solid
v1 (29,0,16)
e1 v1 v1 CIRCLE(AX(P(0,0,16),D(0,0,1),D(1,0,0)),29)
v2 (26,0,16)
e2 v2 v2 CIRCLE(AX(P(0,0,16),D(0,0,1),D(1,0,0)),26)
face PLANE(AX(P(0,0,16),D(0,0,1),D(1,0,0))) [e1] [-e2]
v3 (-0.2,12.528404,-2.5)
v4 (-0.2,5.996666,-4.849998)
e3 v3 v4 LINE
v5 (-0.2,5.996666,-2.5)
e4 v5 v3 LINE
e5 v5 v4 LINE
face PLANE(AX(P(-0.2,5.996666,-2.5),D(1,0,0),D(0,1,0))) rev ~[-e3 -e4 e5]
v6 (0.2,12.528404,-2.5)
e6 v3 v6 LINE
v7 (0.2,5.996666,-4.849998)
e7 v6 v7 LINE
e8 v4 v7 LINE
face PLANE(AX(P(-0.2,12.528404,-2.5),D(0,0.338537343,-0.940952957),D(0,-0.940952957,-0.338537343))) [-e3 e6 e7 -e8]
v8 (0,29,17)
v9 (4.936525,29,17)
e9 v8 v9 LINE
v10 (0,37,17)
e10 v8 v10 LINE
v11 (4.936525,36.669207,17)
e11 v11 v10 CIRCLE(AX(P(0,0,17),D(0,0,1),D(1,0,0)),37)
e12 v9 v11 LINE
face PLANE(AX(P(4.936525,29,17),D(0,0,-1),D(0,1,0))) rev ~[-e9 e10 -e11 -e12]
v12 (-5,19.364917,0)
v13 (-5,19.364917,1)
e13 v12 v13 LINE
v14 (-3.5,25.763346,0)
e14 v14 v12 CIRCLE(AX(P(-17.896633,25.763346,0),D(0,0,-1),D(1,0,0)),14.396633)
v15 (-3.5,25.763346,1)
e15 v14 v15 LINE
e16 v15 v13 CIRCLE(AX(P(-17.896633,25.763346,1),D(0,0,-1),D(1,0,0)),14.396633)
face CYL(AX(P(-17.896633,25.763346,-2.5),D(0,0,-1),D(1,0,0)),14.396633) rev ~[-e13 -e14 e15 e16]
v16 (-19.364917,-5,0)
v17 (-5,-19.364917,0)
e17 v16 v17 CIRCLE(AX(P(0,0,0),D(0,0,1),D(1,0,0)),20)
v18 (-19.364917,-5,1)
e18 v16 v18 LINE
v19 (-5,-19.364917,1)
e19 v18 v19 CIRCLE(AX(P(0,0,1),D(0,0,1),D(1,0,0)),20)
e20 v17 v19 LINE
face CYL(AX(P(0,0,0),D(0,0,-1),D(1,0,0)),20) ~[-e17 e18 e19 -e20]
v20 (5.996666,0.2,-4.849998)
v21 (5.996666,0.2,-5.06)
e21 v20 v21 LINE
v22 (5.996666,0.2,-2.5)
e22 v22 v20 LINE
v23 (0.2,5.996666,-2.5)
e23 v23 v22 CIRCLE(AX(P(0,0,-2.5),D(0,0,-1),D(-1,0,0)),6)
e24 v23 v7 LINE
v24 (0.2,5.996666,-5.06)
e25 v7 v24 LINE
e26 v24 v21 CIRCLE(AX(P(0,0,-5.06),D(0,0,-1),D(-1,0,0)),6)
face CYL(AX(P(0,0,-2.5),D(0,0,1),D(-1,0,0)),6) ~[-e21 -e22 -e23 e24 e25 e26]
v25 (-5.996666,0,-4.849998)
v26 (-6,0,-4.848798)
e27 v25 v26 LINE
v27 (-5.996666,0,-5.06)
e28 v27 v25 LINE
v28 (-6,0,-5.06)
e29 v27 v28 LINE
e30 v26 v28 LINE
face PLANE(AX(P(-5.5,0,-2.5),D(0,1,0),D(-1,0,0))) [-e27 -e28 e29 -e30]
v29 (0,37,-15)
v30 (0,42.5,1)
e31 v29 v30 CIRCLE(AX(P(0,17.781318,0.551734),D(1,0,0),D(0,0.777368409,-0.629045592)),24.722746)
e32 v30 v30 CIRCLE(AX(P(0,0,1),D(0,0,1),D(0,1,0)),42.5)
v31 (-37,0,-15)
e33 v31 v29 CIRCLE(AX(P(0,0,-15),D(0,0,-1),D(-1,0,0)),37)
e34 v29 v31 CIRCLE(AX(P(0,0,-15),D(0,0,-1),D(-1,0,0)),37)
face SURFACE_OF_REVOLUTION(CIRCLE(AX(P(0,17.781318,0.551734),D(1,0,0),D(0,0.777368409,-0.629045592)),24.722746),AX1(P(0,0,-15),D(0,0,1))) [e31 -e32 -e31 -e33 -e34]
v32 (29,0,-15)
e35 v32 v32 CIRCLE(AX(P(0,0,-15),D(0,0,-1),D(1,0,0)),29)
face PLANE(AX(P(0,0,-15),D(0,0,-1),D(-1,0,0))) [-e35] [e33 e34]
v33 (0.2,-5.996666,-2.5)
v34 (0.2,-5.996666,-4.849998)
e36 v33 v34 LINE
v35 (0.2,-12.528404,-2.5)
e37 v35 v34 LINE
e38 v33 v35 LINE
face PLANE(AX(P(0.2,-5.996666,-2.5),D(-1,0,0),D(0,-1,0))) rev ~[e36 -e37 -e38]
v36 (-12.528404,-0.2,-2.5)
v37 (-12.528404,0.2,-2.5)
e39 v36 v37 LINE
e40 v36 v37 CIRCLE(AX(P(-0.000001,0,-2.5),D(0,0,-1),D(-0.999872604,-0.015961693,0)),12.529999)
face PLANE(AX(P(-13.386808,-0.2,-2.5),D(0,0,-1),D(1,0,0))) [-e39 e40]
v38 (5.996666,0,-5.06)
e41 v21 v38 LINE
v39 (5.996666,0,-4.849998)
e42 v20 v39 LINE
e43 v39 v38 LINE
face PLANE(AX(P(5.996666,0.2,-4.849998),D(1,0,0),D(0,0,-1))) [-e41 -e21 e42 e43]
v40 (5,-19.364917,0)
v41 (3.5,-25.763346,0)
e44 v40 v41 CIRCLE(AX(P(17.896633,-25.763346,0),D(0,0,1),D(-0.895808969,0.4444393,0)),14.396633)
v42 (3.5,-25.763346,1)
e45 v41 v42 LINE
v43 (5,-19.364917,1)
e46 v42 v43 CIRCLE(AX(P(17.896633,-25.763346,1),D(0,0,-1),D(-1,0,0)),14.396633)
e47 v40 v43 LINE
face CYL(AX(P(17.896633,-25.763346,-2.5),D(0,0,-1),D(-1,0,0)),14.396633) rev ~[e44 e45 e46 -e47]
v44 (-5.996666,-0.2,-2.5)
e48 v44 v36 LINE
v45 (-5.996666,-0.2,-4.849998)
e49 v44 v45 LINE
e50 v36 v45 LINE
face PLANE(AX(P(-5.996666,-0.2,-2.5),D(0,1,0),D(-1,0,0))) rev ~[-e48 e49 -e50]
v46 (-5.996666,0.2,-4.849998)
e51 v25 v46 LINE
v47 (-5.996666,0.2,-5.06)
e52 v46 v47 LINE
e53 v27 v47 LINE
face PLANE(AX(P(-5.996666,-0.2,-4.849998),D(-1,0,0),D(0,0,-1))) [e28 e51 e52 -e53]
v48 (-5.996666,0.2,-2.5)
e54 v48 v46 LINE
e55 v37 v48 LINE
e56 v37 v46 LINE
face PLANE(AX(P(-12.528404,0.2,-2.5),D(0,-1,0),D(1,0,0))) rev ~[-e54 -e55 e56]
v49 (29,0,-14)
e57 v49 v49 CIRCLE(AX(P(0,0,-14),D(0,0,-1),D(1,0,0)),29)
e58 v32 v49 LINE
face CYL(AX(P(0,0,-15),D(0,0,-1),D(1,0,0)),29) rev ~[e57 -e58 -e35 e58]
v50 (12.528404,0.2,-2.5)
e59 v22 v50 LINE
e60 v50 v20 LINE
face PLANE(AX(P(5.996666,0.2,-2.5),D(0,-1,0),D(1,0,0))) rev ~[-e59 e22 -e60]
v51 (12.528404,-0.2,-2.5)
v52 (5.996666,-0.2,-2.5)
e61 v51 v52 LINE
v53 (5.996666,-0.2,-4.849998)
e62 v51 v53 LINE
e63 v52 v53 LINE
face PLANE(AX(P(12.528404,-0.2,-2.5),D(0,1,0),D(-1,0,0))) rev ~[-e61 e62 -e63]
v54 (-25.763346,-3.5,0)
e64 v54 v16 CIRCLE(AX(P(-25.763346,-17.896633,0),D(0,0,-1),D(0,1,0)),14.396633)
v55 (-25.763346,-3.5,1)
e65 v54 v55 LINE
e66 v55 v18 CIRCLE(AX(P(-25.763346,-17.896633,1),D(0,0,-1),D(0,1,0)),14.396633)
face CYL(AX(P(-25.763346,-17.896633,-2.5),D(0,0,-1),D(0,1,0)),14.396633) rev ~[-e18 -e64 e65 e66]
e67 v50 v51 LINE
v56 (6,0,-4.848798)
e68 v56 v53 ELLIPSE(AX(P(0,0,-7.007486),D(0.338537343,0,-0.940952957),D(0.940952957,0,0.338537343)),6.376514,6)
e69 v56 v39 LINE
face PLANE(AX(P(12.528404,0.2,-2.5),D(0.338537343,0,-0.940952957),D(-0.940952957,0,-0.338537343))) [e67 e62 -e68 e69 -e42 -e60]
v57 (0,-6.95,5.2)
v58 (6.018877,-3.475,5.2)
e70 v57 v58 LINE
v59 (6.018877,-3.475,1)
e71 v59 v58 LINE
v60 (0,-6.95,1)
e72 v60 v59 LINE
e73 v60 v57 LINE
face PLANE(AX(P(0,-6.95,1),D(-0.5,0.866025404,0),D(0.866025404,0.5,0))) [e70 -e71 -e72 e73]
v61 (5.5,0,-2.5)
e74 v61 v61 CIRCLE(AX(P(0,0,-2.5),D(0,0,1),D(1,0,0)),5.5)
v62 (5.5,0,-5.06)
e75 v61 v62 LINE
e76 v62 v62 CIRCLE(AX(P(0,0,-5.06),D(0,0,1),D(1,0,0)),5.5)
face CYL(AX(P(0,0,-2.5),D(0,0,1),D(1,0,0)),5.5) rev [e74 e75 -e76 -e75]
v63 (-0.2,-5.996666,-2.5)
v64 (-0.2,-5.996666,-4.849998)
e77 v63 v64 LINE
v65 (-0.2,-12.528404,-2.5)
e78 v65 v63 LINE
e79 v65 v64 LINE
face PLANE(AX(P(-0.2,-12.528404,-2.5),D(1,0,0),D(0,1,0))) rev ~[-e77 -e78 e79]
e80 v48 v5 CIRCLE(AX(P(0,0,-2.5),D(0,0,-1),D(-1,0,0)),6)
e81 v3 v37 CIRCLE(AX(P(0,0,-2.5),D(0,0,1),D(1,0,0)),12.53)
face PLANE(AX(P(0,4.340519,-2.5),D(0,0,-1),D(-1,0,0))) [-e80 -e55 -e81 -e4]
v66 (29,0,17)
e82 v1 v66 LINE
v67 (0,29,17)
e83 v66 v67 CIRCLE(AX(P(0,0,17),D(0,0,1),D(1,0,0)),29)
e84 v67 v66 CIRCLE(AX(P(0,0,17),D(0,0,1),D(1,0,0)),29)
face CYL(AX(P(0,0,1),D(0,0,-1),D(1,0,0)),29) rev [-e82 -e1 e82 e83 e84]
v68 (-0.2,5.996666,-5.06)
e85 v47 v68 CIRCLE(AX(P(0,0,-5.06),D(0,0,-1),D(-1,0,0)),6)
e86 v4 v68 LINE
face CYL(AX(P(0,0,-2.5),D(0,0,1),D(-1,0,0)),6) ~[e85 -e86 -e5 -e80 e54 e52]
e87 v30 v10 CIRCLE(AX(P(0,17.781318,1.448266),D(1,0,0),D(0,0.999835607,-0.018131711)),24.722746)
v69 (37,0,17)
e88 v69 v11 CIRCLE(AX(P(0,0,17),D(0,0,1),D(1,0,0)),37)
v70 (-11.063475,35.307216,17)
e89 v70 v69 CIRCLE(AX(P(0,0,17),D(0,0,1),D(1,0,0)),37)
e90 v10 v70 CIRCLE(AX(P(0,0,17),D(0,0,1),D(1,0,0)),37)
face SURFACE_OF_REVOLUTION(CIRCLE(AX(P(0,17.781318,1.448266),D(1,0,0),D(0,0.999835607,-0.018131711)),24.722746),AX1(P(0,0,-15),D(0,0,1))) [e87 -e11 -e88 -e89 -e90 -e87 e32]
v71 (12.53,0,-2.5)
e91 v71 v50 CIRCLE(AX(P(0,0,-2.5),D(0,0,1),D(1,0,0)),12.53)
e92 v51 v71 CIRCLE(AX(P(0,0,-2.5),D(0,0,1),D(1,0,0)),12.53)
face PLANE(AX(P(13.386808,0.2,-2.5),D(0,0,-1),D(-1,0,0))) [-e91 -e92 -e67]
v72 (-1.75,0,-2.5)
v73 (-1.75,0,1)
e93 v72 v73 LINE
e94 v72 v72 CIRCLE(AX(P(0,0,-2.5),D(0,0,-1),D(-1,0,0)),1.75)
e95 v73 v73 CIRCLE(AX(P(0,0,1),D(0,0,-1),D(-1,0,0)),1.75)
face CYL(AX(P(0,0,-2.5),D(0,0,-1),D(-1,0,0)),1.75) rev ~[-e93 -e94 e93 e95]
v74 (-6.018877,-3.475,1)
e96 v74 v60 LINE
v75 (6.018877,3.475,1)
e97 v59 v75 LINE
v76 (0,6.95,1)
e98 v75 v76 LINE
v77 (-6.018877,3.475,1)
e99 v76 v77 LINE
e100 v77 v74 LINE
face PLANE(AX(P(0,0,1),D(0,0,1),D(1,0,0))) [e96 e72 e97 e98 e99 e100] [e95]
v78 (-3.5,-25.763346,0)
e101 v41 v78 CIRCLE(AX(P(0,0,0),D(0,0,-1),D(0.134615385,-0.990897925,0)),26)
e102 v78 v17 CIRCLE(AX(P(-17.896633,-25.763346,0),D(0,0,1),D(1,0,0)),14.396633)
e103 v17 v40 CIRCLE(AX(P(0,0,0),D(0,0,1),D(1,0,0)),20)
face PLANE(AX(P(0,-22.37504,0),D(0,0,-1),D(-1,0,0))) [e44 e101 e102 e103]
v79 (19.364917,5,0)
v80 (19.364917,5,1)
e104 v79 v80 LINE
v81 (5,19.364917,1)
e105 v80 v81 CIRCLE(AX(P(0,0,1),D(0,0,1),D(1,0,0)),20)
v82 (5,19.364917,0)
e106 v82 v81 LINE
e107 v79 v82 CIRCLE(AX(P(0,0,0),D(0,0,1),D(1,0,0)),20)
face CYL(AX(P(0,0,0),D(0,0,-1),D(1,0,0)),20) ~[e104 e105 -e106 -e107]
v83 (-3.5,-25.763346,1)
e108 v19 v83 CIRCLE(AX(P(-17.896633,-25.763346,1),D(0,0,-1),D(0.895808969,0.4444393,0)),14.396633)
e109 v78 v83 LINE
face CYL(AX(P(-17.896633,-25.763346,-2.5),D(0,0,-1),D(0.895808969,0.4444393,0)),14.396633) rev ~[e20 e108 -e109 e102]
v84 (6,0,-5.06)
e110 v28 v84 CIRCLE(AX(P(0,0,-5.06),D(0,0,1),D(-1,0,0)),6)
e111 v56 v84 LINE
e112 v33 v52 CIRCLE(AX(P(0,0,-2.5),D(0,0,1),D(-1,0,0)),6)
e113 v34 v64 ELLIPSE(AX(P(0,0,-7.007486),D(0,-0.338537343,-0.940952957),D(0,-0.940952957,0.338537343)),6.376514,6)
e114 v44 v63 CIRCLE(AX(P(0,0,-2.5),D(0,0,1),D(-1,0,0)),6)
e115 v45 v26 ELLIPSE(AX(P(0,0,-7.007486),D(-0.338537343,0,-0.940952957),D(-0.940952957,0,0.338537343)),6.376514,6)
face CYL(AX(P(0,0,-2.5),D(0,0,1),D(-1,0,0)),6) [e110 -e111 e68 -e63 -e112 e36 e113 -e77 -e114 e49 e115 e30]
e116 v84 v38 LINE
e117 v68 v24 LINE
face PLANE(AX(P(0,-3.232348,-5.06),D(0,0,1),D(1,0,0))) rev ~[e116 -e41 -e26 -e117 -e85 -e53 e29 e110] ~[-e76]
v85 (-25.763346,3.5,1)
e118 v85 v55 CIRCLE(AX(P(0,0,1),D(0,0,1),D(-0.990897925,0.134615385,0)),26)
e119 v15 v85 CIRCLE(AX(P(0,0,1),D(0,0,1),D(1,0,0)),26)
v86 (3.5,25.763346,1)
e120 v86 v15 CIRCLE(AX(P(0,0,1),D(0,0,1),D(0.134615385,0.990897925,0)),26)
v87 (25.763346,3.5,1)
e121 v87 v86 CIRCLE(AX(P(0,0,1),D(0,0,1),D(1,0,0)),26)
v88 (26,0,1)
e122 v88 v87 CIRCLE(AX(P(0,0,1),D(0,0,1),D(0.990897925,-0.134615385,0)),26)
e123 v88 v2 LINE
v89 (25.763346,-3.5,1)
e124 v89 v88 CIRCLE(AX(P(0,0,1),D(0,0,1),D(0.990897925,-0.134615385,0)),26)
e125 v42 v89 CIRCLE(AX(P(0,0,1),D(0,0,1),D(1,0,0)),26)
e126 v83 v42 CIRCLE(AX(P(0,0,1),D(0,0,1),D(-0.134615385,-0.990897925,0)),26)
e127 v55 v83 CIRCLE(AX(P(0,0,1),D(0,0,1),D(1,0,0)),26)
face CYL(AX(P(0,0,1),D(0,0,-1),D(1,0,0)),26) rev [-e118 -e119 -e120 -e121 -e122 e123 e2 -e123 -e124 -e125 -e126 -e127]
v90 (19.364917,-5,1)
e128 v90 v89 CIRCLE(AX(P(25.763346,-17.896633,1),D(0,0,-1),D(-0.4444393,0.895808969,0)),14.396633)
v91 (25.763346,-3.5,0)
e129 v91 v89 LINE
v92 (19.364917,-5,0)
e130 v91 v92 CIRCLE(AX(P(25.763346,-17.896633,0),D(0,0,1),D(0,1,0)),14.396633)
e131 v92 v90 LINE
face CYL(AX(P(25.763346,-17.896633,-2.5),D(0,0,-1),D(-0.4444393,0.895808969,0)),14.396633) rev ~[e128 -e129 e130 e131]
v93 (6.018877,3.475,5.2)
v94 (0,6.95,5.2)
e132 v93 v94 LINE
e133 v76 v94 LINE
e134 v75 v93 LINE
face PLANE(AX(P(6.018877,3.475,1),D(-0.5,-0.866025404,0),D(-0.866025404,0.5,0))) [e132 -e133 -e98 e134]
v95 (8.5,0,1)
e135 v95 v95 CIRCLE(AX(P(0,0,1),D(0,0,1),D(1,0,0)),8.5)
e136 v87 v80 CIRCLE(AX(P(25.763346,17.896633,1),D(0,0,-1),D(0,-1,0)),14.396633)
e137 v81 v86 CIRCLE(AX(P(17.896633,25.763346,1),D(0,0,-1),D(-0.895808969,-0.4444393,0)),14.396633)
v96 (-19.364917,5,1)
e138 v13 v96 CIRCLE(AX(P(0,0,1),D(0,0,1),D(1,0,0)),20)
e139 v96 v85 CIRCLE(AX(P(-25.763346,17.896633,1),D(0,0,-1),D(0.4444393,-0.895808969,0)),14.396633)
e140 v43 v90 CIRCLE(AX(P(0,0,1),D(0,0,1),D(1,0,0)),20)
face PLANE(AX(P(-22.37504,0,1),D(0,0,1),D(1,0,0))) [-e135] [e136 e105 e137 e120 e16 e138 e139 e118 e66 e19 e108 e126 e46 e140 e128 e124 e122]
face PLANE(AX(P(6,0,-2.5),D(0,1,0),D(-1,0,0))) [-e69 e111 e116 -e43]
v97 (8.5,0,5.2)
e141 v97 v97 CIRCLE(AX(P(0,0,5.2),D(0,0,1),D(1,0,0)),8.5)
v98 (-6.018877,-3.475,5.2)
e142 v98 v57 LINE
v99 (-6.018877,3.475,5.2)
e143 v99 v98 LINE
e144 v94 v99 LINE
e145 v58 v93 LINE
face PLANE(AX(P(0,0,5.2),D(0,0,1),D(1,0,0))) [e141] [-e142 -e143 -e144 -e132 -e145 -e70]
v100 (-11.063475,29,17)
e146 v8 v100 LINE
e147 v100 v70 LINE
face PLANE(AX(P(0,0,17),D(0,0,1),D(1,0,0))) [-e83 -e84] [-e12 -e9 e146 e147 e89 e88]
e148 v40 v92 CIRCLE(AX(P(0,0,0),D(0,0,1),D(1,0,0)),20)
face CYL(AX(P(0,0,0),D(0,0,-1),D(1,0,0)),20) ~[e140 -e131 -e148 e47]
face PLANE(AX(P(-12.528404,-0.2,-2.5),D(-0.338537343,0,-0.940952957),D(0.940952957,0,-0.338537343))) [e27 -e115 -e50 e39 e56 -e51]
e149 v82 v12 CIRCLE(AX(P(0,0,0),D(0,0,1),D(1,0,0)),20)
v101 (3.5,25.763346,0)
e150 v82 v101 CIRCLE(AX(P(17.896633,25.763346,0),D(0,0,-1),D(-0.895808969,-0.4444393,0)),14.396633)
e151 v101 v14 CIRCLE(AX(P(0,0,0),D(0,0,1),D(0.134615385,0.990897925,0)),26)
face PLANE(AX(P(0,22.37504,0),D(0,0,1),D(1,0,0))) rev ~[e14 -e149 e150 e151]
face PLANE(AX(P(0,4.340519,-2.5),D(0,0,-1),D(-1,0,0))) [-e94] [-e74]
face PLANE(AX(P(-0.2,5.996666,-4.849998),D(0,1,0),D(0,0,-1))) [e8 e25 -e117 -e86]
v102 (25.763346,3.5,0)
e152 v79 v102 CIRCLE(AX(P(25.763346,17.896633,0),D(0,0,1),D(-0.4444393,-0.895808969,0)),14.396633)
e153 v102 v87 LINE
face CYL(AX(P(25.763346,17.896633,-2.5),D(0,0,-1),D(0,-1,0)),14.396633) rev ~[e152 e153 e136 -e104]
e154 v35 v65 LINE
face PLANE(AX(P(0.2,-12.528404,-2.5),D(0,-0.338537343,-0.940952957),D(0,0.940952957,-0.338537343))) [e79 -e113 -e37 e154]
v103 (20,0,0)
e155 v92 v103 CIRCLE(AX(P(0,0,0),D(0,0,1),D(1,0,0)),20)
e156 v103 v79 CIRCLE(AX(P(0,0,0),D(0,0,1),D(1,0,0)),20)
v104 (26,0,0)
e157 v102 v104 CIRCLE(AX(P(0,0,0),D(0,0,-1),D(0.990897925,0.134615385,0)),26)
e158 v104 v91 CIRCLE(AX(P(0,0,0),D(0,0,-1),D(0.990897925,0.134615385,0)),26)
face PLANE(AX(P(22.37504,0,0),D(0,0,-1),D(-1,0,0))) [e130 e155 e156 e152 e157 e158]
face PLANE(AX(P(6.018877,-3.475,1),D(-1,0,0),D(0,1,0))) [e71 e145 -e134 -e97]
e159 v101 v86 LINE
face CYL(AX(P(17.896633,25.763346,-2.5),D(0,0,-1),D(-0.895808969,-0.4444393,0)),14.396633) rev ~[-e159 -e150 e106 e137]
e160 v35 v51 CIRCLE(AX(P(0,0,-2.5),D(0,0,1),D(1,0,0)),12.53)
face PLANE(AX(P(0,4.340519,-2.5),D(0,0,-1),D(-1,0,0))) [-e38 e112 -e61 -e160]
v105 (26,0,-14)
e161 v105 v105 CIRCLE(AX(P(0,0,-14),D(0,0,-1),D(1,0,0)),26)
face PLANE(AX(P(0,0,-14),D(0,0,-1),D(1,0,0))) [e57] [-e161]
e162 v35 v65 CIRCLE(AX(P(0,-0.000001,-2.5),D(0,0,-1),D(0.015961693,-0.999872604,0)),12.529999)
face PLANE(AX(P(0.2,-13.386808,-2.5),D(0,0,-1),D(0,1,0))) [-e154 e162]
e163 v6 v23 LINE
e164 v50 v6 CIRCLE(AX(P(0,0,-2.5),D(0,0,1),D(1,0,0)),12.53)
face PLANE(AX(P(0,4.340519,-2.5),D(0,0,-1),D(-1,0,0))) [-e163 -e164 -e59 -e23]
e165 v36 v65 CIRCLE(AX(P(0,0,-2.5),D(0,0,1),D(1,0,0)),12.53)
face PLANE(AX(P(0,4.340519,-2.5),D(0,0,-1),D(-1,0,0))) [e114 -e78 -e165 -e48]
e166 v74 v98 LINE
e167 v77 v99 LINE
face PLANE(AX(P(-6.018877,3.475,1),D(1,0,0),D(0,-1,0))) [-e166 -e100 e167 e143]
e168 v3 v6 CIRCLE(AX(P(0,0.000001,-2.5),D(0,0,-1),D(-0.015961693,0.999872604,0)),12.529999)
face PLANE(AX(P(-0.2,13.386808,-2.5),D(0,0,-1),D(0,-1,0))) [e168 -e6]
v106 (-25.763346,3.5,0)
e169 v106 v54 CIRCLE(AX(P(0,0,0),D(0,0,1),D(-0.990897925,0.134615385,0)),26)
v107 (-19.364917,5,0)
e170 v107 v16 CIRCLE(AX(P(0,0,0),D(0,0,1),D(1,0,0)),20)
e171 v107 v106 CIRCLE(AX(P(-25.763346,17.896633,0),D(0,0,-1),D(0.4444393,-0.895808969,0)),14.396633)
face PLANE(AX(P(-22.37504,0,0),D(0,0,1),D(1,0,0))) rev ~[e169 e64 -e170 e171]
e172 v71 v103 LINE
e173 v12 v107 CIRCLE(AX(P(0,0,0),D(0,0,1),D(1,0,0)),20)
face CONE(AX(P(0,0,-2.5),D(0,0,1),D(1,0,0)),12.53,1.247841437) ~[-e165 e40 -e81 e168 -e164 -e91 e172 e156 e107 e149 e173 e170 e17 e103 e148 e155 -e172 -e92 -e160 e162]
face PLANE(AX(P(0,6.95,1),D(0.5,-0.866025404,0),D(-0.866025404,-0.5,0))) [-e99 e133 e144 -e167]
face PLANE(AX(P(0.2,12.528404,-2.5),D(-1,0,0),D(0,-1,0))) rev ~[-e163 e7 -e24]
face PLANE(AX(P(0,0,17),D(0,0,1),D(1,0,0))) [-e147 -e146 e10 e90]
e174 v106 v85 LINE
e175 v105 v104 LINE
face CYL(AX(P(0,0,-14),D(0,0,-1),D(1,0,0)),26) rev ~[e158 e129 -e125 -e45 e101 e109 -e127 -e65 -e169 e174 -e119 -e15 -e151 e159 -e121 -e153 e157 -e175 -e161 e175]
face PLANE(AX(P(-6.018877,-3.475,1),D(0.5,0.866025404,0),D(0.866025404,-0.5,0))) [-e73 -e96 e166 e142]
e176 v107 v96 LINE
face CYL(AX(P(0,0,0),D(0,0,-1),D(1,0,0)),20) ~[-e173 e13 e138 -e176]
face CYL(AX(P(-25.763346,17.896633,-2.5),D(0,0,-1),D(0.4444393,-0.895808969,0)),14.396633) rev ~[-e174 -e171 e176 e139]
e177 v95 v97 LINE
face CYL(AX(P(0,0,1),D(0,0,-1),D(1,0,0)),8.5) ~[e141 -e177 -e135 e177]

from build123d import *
from build123d.topology import SkipClean

# Parameters (mm, degrees)
SKETCH2_R            = 20
BOSS_EXTRUDE1_DEPTH  = 1
SKETCH3_R            = 8.5
BOSS_EXTRUDE2_DEPTH  = 4.2
BOSS_EXTRUDE4_DEPTH  = 2.5
BOSS_EXTRUDE5_DEPTH  = 3.5
CUT_EXTRUDE1_DEPTH   = 2.5
SKETCH14_R           = 1.75
CUT_EXTRUDE2_DEPTH   = 20.5
BOSS_EXTRUDE7_DEPTH  = 2.56
BOSS_EXTRUDE8_DEPTH  = 2.56
CUT_EXTRUDE4_DEPTH   = 1
CIRPATTERN3_COUNT    = 4
BOSS_EXTRUDE10_DEPTH = 2.56
SKETCH22_R           = 29
SKETCH22_R_2         = 26
BOSS_EXTRUDE11_DEPTH = 15
BOSS_EXTRUDE12_START = 15
SKETCH23_R           = 29
SKETCH23_R_2         = 26
BOSS_EXTRUDE12_DEPTH = 15
SKETCH25_R           = 37
SKETCH25_R_2         = 29
BOSS_EXTRUDE14_DEPTH = 16
BOSS_EXTRUDE15_START = 16
SKETCH26_R           = 37
SKETCH26_R_2         = 29
BOSS_EXTRUDE15_DEPTH = 16
SKETCH27_W           = 4.936524623
SKETCH27_H           = 8
BOSS_EXTRUDE16_DEPTH = 16
SKETCH29_W           = 16
SKETCH29_H           = 8
CUT_EXTRUDE5_DEPTH   = 16


with BuildPart() as part:
    # Sketch2 → Boss-Extrude1 (new body)
    with BuildSketch(Plane.XY):
        Circle(SKETCH2_R)
    extrude(amount=BOSS_EXTRUDE1_DEPTH)

    # Sketch3 → Boss-Extrude2 (add)
    with BuildSketch(Plane.XY.offset(1)):
        Circle(SKETCH3_R)
        Polygon((0, 6.95), (-6.018876556, 3.475), (-6.018876556, -3.475), (0, -6.95), (6.018876556, -3.475), (6.018876556, 3.475), align=None, mode=Mode.SUBTRACT)
    extrude(amount=BOSS_EXTRUDE2_DEPTH)

    # Sketch7 → Boss-Extrude4 (add)
    with BuildSketch(Plane(origin=(0, 0, 0), x_dir=(-1, 0, 0), z_dir=(0, 0, -1))):
        with BuildLine():
            Line((-12.53, 0), (0, 0))
            Line((0, 0), (12.53, 0))
            ThreePointArc((12.53, 0), (0, 12.53), (-12.53, 0))
        make_face()
    extrude(amount=BOSS_EXTRUDE4_DEPTH)

    # Sketch10 → Revolve1 (revolve)
    with BuildSketch(Plane.XZ):
        Polygon((12.53, -2.5), (20, 0), (12.53, 0), (0, 0), (0, -2.5), align=None)
    revolve(axis=Axis((0, 0, 0), (0, 0, -1)))

    # Sketch11 → Boss-Extrude5 (add)
    with BuildSketch(Plane(origin=(0, 0, -2.5), x_dir=(-1, 0, 0), z_dir=(0, 0, -1))):
        with BuildLine():
            ThreePointArc((25.763346056, -3.5), (22.477394983, -3.88001547), (19.364916731, -5))
            ThreePointArc((19.364916731, -5), (20, 0), (19.364916731, 5))
            ThreePointArc((19.364916731, 5), (22.477394983, 3.88001547), (25.763346056, 3.5))
            ThreePointArc((25.763346056, 3.5), (26, 0), (25.763346056, -3.5))
        make_face()
        with BuildLine():
            ThreePointArc((3.5, 25.763346056), (3.88001547, 22.477394983), (5, 19.364916731))
            ThreePointArc((5, 19.364916731), (0, 20), (-5, 19.364916731))
            ThreePointArc((-5, 19.364916731), (-3.88001547, 22.477394983), (-3.5, 25.763346056))
            ThreePointArc((-3.5, 25.763346056), (0, 26), (3.5, 25.763346056))
        make_face()
        with BuildLine():
            ThreePointArc((-3.5, -25.763346056), (-3.88001547, -22.477394983), (-5, -19.364916731))
            ThreePointArc((-5, -19.364916731), (0, -20), (5, -19.364916731))
            ThreePointArc((5, -19.364916731), (3.88001547, -22.477394983), (3.5, -25.763346056))
            ThreePointArc((3.5, -25.763346056), (0, -26), (-3.5, -25.763346056))
        make_face()
        with BuildLine():
            ThreePointArc((-25.763346056, 3.5), (-22.477394983, 3.88001547), (-19.364916731, 5))
            ThreePointArc((-19.364916731, 5), (-20, 0), (-19.364916731, -5))
            ThreePointArc((-19.364916731, -5), (-22.477394983, -3.88001547), (-25.763346056, -3.5))
            ThreePointArc((-25.763346056, -3.5), (-26, 0), (-25.763346056, 3.5))
        make_face()
    extrude(amount=-BOSS_EXTRUDE5_DEPTH)

    # Sketch13 → Cut-Extrude1 (cut)
    with BuildSketch(Plane(origin=(0, 0, -2.5), x_dir=(-1, 0, 0), z_dir=(0, 0, -1))):
        with BuildLine():
            ThreePointArc((-3.5, -25.763346056), (0, -26), (3.5, -25.763346056))
            ThreePointArc((3.5, -25.763346056), (3.88001547, -22.477394983), (5, -19.364916731))
            ThreePointArc((5, -19.364916731), (0, -20), (-5, -19.364916731))
            ThreePointArc((-5, -19.364916731), (-3.88001547, -22.477394983), (-3.5, -25.763346056))
        make_face()
        with BuildLine():
            ThreePointArc((5, 19.364916731), (0, 20), (-5, 19.364916731))
            ThreePointArc((-5, 19.364916731), (-3.88001547, 22.477394983), (-3.5, 25.763346056))
            ThreePointArc((-3.5, 25.763346056), (0, 26), (3.5, 25.763346056))
            ThreePointArc((3.5, 25.763346056), (3.88001547, 22.477394983), (5, 19.364916731))
        make_face()
        with BuildLine():
            ThreePointArc((25.763346056, -3.5), (22.477394983, -3.88001547), (19.364916731, -5))
            ThreePointArc((19.364916731, -5), (20, 0), (19.364916731, 5))
            ThreePointArc((19.364916731, 5), (22.477394983, 3.88001547), (25.763346056, 3.5))
            ThreePointArc((25.763346056, 3.5), (26, 0), (25.763346056, -3.5))
        make_face()
        with BuildLine():
            ThreePointArc((-25.763346056, -3.5), (-22.477394983, -3.88001547), (-19.364916731, -5))
            ThreePointArc((-19.364916731, -5), (-20, 0), (-19.364916731, 5))
            ThreePointArc((-19.364916731, 5), (-22.477394983, 3.88001547), (-25.763346056, 3.5))
            ThreePointArc((-25.763346056, 3.5), (-26, 0), (-25.763346056, -3.5))
        make_face()
    extrude(amount=-CUT_EXTRUDE1_DEPTH, mode=Mode.SUBTRACT)

    # Sketch14 → Cut-Extrude2 (cut)
    with BuildSketch(Plane(origin=(0, 0, -2.5), x_dir=(-1, 0, 0), z_dir=(0, 0, -1))):
        Circle(SKETCH14_R)
    extrude(amount=-CUT_EXTRUDE2_DEPTH, mode=Mode.SUBTRACT)

    # Sketch15 → Boss-Extrude7 (add)
    with BuildSketch(Plane(origin=(0, 0, -2.5), x_dir=(-1, 0, 0), z_dir=(0, 0, -1))):
        with BuildLine():
            ThreePointArc((-5.5, 0), (0, 5.5), (5.5, 0))
            Line((5.5, 0), (6, 0))
            ThreePointArc((6, 0), (0, 6), (-6, 0))
            Line((-6, 0), (-5.5, 0))
        make_face()
    extrude(amount=BOSS_EXTRUDE7_DEPTH)

    # Sketch18 → Boss-Extrude8 (add)
    with BuildSketch(Plane(origin=(0, 0, -2.5), x_dir=(-1, 0, 0), z_dir=(0, 0, -1))):
        with BuildLine():
            Line((12.528403729, 0.2), (5.99666574, 0.2))
            ThreePointArc((5.99666574, 0.2), (6, 0), (5.99666574, -0.2))
            Line((5.99666574, -0.2), (12.528403729, -0.2))
            ThreePointArc((12.528403729, -0.2), (12.53, 0), (12.528403729, 0.2))
        make_face()
    boss_extrude8 = extrude(amount=BOSS_EXTRUDE8_DEPTH)

    # Sketch19 → Cut-Extrude4 (cut)
    with BuildSketch(Plane.XZ.offset(0.2)):
        Polygon((-12.528403729, -5.06), (-13.38680772, -5.06), (-13.38680772, -2.5), (-12.528403729, -2.5), (-5.99666574, -4.849997635), (-5.99666574, -5.06), align=None)
    cut_extrude4 = extrude(amount=-CUT_EXTRUDE4_DEPTH, mode=Mode.SUBTRACT)

    # CirPattern3: Boss-Extrude8, Cut-Extrude4 ×4 about axis
    cirpattern3_axis = Axis((0, 0, 0), (0, 0, 1))
    add([boss_extrude8.rotate(cirpattern3_axis, i * 360 / CIRPATTERN3_COUNT) for i in range(1, CIRPATTERN3_COUNT)])
    add([cut_extrude4.rotate(cirpattern3_axis, i * 360 / CIRPATTERN3_COUNT) for i in range(1, CIRPATTERN3_COUNT)], mode=Mode.SUBTRACT)

    # Sketch20 → Boss-Extrude10 (add)
    with SkipClean():  # the faces are left unmerged after this step: merging them gives an invalid solid
        with BuildSketch(Plane(origin=(0, 0, -2.5), x_dir=(-1, 0, 0), z_dir=(0, 0, -1))):
            with BuildLine():
                Line((-6, 0), (-5.5, 0))
                ThreePointArc((-5.5, 0), (0, -5.5), (5.5, 0))
                Line((5.5, 0), (6, 0))
                ThreePointArc((6, 0), (0, -6), (-6, 0))
            make_face()
        extrude(amount=BOSS_EXTRUDE10_DEPTH)



with BuildPart() as body_2:
    # Sketch22 → Boss-Extrude11 (new body)
    with BuildSketch(Plane.XY.offset(1)):
        Circle(SKETCH22_R)
        Circle(SKETCH22_R_2, mode=Mode.SUBTRACT)
    extrude(amount=BOSS_EXTRUDE11_DEPTH)


with BuildPart() as part_1:
    with SkipClean():  # the faces are left unmerged after this step: merging them gives an invalid solid
        add(part.part)

        add(body_2.part)  # Boss-Extrude12 merges body 2
        # Sketch23 → Boss-Extrude12 (add)
        with BuildSketch(Plane(origin=(0, 0, 1), x_dir=(-1, 0, 0), z_dir=(0, 0, -1)).offset(BOSS_EXTRUDE12_START)):
            with Locations(Location((0, 0, 0), (0, 0, 180))):
                Circle(SKETCH23_R)
            with Locations(Location((0, 0, 0), (0, 0, 180))):
                Circle(SKETCH23_R_2, mode=Mode.SUBTRACT)
        extrude(amount=-BOSS_EXTRUDE12_DEPTH)

    # Sketch25 → Boss-Extrude14 (add)
    with SkipClean():  # the faces are left unmerged after this step: merging them gives an invalid solid
        with BuildSketch(Plane.XY.offset(1)):
            Circle(SKETCH25_R)
            Circle(SKETCH25_R_2, mode=Mode.SUBTRACT)
        extrude(amount=BOSS_EXTRUDE14_DEPTH)

    # Sketch26 → Boss-Extrude15 (add)
    with SkipClean():  # the faces are left unmerged after this step: merging them gives an invalid solid
        with BuildSketch(Plane(origin=(0, 0, 1), x_dir=(-1, 0, 0), z_dir=(0, 0, -1)).offset(BOSS_EXTRUDE15_START)):
            Circle(SKETCH26_R)
            with Locations(Location((0, 0, 0), (0, 0, 180))):
                Circle(SKETCH26_R_2, mode=Mode.SUBTRACT)
        extrude(amount=-BOSS_EXTRUDE15_DEPTH)

    # Sketch27 → Boss-Extrude16 (add)
    with SkipClean():  # the faces are left unmerged after this step: merging them gives an invalid solid
        with BuildSketch(Plane.XY.offset(17)):
            with Locations((2.468262312, 33)):
                Rectangle(SKETCH27_W, SKETCH27_H)
        extrude(amount=BOSS_EXTRUDE16_DEPTH)

    # Sketch28 → Revolve2 (revolve)
    with SkipClean():  # the faces are left unmerged after this step: merging them gives an invalid solid
        with BuildSketch(Plane.ZY):
            with BuildLine():
                ThreePointArc((1, 42.5), (9.485130196, 41.161287844), (17, 37))
                Line((17, 37), (-15, 37))
                ThreePointArc((-15, 37), (-7.485130196, 41.161287844), (1, 42.5))
            make_face()
        revolve(axis=Axis((0, 0, -15), (0, 0, 1)))

    # Sketch29 → Cut-Extrude5 (cut)
    with SkipClean():  # the faces are left unmerged after this step: merging them gives an invalid solid
        with BuildSketch(Plane(origin=(4.936524623, 0, 0), x_dir=(0, 0, -1), z_dir=(1, 0, 0))):
            with Locations((-25, 33)):
                Rectangle(SKETCH29_W, SKETCH29_H)
        extrude(amount=-CUT_EXTRUDE5_DEPTH, mode=Mode.SUBTRACT)


solid = part_1.part
